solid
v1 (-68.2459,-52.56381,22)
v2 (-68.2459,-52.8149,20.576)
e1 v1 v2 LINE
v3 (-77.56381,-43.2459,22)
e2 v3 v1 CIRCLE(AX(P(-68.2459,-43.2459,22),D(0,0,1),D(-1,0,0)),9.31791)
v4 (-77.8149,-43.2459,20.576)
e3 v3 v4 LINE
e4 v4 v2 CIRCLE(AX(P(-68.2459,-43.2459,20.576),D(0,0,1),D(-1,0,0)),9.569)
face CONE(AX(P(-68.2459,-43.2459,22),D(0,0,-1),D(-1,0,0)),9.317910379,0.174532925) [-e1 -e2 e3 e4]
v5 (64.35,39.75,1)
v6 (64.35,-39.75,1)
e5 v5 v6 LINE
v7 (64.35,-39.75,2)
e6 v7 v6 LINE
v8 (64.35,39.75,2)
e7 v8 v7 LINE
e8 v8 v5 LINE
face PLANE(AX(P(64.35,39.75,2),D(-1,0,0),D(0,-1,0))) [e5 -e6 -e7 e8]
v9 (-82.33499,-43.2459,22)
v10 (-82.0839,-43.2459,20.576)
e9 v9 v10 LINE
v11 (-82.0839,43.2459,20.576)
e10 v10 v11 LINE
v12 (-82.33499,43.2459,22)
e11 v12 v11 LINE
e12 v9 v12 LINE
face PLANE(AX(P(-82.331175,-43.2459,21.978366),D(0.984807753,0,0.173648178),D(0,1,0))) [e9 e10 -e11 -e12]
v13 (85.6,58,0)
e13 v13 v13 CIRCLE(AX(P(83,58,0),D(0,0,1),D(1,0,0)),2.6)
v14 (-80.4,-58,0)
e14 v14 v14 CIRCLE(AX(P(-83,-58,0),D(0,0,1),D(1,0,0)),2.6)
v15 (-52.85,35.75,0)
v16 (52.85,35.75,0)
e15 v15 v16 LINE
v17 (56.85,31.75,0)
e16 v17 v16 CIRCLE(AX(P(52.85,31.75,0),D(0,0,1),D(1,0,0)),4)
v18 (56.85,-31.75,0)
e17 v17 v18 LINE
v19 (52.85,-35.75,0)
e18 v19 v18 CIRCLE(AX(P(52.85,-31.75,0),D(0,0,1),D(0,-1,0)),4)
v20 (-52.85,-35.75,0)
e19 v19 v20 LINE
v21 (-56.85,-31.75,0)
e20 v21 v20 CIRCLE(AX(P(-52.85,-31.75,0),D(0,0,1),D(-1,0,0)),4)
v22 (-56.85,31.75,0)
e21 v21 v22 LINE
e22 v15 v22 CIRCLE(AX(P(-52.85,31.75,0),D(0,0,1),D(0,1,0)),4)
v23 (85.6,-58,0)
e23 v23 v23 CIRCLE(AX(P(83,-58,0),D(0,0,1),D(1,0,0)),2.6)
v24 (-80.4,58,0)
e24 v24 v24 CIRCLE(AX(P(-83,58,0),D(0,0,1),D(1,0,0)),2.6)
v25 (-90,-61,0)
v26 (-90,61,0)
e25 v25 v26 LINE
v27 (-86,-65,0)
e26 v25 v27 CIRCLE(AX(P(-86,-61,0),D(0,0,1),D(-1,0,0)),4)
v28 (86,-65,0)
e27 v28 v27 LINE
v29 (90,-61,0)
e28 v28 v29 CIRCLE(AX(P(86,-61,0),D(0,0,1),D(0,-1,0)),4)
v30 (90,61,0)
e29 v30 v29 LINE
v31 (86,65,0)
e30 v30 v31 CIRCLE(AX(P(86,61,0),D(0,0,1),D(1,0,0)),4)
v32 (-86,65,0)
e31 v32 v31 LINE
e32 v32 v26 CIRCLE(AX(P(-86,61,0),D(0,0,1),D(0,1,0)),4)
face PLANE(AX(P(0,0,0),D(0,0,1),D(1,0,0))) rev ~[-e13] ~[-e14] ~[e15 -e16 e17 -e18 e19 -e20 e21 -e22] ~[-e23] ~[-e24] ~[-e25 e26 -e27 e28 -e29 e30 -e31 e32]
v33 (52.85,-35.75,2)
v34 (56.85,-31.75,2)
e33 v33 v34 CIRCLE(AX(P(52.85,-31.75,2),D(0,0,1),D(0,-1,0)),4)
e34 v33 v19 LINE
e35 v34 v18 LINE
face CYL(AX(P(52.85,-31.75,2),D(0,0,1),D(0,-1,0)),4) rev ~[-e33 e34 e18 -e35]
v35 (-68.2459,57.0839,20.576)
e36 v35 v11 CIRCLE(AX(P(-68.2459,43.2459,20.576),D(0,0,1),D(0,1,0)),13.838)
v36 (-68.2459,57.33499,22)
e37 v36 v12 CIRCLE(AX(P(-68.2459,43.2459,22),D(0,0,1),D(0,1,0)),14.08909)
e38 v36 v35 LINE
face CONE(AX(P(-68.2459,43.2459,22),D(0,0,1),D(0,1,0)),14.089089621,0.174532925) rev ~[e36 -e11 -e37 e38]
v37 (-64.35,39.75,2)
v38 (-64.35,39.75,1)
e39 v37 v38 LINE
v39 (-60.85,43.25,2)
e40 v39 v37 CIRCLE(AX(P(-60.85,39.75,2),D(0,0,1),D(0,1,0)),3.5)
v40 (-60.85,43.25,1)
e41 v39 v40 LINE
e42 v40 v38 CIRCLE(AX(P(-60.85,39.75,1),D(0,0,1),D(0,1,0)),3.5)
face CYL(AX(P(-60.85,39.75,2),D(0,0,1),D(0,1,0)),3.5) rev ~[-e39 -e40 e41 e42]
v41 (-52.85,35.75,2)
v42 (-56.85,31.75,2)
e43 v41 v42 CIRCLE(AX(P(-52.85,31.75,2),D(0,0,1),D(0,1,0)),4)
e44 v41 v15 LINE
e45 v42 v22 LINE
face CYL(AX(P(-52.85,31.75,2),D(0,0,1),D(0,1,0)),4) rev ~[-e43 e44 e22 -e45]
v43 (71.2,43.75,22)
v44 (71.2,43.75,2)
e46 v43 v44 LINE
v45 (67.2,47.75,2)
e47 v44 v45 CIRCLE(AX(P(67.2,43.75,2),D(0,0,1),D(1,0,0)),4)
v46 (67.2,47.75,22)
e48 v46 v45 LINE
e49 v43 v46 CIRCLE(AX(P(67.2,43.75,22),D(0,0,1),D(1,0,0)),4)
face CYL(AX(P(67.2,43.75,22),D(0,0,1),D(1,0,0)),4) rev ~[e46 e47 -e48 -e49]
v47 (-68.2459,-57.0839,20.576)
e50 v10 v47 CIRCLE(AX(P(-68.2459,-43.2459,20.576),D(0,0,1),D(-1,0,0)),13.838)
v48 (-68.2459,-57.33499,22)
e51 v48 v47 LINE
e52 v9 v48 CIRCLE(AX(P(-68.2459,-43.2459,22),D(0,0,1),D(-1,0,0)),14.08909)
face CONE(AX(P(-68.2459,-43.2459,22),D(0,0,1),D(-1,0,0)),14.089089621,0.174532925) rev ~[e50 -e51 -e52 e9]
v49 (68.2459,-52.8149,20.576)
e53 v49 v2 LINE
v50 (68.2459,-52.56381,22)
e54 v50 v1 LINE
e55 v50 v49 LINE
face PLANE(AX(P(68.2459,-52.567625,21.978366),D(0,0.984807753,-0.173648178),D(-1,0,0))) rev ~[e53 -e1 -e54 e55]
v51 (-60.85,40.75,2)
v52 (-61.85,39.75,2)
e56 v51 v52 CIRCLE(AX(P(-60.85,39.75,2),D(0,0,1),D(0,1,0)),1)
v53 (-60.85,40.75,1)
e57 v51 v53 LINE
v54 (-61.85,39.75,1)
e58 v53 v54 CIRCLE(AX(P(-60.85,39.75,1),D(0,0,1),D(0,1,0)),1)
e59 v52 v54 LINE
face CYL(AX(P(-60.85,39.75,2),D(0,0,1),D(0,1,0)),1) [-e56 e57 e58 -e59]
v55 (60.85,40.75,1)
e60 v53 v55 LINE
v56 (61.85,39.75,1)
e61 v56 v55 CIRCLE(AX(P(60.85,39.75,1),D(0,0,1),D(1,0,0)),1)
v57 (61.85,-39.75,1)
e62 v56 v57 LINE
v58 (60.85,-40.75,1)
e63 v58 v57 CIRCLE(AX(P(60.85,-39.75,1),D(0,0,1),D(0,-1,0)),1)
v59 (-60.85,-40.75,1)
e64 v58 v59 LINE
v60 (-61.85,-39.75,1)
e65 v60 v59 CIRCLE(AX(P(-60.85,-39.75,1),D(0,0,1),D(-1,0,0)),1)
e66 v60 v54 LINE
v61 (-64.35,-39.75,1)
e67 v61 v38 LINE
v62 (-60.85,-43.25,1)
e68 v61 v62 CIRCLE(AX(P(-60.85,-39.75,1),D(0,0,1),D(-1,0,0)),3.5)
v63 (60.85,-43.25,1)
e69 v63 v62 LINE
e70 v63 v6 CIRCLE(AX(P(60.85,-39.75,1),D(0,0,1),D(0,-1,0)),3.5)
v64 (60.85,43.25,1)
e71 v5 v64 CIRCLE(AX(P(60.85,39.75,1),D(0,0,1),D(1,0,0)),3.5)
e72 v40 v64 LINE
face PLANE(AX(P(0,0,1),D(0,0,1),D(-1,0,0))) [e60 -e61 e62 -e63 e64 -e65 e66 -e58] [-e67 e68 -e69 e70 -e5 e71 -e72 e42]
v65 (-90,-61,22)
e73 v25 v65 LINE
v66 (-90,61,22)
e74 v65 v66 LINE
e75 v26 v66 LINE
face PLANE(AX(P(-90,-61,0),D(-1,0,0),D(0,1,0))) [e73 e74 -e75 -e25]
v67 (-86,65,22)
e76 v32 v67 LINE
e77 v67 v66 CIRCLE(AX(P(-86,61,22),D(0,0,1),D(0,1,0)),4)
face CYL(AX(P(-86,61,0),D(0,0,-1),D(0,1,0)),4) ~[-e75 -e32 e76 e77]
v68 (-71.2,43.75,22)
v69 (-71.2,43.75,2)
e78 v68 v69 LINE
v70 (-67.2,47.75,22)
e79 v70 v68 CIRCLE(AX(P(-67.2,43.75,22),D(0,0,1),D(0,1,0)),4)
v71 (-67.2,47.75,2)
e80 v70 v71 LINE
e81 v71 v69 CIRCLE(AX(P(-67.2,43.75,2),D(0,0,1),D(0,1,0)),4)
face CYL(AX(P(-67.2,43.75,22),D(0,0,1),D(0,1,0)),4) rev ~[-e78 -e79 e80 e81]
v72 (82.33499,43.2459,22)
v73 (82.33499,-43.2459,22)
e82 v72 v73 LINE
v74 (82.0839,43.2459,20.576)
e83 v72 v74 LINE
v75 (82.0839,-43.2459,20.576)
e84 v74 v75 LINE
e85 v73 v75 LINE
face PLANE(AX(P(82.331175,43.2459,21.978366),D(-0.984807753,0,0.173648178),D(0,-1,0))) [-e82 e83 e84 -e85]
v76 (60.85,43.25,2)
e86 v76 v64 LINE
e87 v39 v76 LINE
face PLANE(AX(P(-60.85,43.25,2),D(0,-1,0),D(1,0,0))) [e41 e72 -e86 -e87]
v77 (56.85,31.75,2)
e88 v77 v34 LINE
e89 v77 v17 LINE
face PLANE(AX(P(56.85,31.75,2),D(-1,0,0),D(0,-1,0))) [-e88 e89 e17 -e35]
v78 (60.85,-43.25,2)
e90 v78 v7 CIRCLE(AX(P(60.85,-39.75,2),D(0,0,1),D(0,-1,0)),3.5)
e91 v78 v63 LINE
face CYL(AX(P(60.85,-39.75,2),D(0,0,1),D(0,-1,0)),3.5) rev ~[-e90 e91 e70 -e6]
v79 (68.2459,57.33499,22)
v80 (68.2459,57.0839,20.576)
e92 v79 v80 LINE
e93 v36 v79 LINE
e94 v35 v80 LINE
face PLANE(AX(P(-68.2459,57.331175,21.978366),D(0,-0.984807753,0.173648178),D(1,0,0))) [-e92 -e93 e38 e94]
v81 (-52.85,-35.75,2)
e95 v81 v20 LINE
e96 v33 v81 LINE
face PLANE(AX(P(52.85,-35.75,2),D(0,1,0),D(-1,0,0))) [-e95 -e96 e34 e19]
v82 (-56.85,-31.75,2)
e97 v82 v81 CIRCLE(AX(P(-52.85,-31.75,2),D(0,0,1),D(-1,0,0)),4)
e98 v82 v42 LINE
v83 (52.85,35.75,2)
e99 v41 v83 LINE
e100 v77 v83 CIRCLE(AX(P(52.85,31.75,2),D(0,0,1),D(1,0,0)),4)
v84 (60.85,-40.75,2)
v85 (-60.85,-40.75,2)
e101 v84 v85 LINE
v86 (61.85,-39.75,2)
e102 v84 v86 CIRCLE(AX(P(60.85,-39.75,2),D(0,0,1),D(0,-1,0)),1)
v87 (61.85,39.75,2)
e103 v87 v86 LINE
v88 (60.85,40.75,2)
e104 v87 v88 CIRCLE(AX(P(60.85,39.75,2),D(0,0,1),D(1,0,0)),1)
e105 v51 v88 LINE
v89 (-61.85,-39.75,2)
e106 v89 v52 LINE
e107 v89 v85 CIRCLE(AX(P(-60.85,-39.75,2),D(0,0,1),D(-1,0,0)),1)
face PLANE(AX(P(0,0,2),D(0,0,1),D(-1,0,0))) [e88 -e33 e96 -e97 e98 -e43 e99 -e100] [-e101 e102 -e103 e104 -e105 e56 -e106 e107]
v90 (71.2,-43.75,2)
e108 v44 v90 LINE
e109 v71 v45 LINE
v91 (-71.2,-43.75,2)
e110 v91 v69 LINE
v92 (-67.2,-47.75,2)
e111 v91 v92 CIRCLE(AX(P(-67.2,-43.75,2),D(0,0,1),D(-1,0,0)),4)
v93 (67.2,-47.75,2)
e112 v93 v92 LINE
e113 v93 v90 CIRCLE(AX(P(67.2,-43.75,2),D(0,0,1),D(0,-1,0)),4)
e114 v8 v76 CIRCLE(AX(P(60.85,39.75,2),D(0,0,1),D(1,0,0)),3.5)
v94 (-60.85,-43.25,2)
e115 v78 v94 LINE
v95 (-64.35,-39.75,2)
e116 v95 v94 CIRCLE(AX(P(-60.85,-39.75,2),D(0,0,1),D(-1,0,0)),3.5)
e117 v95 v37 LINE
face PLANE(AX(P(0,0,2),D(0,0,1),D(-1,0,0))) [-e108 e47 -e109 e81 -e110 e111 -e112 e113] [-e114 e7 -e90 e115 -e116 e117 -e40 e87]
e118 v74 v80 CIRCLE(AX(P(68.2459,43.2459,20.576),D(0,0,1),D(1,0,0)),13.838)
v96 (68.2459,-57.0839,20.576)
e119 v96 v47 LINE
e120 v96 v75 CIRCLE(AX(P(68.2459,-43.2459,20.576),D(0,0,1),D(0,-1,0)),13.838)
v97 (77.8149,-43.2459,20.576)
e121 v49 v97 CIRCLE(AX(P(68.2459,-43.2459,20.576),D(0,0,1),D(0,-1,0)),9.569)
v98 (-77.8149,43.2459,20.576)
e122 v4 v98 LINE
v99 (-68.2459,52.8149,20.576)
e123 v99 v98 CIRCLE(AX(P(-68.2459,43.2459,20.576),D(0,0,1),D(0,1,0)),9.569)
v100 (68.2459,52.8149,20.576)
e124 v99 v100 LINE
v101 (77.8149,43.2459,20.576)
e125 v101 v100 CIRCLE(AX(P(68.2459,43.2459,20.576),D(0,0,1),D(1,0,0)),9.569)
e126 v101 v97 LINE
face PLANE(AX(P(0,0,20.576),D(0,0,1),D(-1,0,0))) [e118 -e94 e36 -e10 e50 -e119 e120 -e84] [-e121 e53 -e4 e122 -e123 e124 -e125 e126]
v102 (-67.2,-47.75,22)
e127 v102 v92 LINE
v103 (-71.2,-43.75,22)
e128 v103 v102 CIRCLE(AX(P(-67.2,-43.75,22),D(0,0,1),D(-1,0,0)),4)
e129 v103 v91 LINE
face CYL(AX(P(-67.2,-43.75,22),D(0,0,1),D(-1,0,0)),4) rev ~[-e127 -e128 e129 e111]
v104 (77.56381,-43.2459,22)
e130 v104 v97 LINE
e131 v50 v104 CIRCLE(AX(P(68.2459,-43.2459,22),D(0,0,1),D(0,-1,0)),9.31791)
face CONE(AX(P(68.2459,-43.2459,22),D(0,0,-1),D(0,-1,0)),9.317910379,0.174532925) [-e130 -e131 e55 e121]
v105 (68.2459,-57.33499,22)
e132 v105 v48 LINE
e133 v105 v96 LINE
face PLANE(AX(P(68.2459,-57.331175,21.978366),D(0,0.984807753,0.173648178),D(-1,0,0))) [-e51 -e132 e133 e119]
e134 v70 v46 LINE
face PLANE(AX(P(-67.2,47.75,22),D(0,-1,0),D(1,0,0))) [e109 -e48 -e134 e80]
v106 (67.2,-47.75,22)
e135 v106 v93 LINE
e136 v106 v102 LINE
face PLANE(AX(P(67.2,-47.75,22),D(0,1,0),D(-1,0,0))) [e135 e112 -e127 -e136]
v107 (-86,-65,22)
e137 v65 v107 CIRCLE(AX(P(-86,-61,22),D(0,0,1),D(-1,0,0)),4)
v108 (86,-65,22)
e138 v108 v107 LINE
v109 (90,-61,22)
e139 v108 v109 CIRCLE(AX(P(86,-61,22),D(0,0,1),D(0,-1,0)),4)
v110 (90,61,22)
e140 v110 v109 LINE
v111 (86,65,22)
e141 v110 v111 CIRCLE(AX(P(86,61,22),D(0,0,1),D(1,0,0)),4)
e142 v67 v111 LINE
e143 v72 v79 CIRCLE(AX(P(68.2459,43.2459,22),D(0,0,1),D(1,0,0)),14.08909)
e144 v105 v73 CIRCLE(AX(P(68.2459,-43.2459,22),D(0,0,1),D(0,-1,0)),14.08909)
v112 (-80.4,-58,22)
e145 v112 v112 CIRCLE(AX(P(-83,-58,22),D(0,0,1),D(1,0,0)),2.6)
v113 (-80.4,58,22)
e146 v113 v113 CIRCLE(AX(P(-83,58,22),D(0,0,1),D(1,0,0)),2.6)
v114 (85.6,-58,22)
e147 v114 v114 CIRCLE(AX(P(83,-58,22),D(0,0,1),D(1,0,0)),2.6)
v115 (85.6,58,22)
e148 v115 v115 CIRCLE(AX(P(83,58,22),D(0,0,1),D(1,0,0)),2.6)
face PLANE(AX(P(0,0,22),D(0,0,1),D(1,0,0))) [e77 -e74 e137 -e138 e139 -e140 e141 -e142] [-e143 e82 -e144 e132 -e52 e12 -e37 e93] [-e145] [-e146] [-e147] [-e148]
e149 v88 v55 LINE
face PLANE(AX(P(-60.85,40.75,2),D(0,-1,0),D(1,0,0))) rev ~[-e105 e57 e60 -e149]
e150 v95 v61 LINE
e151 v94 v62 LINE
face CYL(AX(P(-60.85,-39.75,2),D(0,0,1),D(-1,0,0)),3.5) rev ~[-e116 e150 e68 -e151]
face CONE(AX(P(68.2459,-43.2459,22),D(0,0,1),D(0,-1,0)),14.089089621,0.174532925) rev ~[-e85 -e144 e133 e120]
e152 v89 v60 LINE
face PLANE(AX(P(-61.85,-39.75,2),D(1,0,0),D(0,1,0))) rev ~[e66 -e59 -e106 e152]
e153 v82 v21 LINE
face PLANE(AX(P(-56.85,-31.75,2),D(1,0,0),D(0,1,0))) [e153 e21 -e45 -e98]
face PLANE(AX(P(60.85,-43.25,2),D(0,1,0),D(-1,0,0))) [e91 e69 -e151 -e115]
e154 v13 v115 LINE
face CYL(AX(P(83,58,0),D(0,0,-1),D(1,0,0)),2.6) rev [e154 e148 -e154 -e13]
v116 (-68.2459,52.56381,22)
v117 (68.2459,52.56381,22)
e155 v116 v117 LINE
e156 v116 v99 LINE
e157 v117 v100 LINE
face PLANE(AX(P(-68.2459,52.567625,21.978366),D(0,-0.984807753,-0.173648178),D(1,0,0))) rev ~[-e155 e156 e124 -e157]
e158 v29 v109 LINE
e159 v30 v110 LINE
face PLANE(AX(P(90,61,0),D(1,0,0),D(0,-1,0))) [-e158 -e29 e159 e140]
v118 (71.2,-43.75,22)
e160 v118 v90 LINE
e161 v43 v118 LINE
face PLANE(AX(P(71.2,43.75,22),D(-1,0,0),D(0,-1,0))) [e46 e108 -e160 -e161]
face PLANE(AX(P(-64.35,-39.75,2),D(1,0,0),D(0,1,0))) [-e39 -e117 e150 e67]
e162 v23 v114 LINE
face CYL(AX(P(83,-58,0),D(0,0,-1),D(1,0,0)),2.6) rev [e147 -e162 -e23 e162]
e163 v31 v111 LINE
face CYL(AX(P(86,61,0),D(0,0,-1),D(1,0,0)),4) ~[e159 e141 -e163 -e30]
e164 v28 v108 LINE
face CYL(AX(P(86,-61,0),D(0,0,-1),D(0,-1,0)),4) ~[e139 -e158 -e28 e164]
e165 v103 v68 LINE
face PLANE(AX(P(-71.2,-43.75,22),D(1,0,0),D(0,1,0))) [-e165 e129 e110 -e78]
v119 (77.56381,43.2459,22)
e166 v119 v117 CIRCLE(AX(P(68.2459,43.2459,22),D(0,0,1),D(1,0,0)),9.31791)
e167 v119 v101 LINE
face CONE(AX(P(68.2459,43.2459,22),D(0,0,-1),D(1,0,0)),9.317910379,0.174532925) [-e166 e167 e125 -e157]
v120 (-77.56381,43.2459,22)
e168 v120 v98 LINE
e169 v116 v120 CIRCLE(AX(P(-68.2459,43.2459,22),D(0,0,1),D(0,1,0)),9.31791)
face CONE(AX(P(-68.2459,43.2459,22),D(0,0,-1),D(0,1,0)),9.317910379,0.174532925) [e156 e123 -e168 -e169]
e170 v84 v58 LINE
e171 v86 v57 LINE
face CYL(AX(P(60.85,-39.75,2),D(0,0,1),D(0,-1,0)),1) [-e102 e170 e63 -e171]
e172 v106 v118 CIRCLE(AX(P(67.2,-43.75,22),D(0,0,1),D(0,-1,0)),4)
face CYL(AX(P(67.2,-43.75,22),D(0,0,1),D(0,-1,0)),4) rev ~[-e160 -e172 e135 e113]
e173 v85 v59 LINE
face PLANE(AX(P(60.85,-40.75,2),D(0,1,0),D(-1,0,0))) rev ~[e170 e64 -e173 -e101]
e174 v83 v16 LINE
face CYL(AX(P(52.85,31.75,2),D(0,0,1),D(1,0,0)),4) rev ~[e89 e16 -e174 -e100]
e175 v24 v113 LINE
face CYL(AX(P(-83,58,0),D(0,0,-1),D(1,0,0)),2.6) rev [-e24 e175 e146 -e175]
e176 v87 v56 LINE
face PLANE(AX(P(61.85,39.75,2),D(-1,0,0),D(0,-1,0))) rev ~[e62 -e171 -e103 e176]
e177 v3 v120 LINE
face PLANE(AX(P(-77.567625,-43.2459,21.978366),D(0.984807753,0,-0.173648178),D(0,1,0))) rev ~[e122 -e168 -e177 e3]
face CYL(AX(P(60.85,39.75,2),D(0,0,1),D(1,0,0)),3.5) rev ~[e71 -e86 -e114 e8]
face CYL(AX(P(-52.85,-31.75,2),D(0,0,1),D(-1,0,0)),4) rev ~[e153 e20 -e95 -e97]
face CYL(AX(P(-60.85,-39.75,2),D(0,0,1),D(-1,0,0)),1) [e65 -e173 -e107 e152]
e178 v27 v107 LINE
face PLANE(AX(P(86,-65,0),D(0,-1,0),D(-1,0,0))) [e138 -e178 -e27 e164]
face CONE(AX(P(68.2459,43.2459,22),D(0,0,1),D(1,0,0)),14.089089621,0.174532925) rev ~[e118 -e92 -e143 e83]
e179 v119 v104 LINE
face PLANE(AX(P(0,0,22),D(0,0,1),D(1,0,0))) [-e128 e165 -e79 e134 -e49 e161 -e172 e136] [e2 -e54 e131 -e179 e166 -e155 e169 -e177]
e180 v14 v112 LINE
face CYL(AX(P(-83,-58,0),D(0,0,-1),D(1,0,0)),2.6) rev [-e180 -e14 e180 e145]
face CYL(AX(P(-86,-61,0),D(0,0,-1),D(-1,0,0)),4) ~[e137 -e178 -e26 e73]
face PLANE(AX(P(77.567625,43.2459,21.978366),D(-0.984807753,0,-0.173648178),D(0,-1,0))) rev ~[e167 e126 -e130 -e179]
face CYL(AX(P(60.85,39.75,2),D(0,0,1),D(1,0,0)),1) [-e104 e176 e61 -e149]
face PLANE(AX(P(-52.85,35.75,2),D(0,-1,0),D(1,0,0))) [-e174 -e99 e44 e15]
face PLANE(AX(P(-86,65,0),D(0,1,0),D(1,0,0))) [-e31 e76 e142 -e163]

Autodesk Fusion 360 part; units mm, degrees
sketch "Sketch1" plane through (0, 0, 0) normal (0, 0, 1) x (1, 0, 0)
  line L0 (86, -65) -> (-86, -65)
  line L1 (-90, -61) -> (-90, 61)
  line L2 (-86, 65) -> (86, 65)
  line L3 (90, 61) -> (90, -61)
  line L4 (90, -65) -> (-90, 65) construction
  line L5 (-90, -65) -> (90, 65) construction
  arc A0 (-86, 65) -> (-90, 61) centre (-86, 61) ccw
  arc A1 (90, 61) -> (86, 65) centre (86, 61) ccw
  arc A2 (86, -65) -> (90, -61) centre (86, -61) ccw
  arc A3 (-90, -61) -> (-86, -65) centre (-86, -61) ccw
  circle A4 centre (-83, 58) radius 2.6
  line L6 (0, 65) -> (0, -65) construction
  line L7 (90, 0) -> (-90, 0) construction
  circle A5 centre (83, 58) radius 2.6
  circle A6 centre (83, -58) radius 2.6
  circle A7 centre (-83, -58) radius 2.6
  dimension "d1" = 180
  dimension "d2" = 130
  dimension "d26" = 4
  dimension "d27" = 4
  dimension "d28" = 4
  dimension "d29" = 4
  dimension "d30" = 5.2
  dimension "d31" = 7
  dimension "d32" = 7
extrude "Extrude1" add sketch "Sketch1" along normal blind 22
sketch "Sketch2" plane through (0, 0, 22) normal (0, 0, 1) x (-1, 0, 0)
  line L0 (-86, -65) -> (86, -65)
  line L1 (90, -61) -> (90, 61)
  line L2 (86, 65) -> (-86, 65)
  line L3 (-90, 61) -> (-90, -61)
  line L4 (-67.2, 47.75) -> (67.2, 47.75)
  line L5 (71.2, 43.75) -> (71.2, -43.75)
  line L6 (67.2, -47.75) -> (-67.2, -47.75)
  line L7 (-71.2, -43.75) -> (-71.2, 43.75)
  line L8 (-71.2, 47.75) -> (71.2, -47.75) construction
  line L9 (71.2, 47.75) -> (-71.2, -47.75) construction
  arc A0 (86, -65) -> (90, -61) centre (86, -61) ccw
  arc A1 (90, 61) -> (86, 65) centre (86, 61) ccw
  arc A2 (-86, 65) -> (-90, 61) centre (-86, 61) ccw
  arc A3 (-90, -61) -> (-86, -65) centre (-86, -61) ccw
  circle A4 centre (83, 58) radius 2.6
  circle A5 centre (-83, 58) radius 2.6
  circle A6 centre (-83, -58) radius 2.6
  circle A7 centre (83, -58) radius 2.6
  arc A8 (67.2, -47.75) -> (71.2, -43.75) centre (67.2, -43.75) ccw
  arc A9 (-71.2, -43.75) -> (-67.2, -47.75) centre (-67.2, -43.75) ccw
  arc A10 (71.2, 43.75) -> (67.2, 47.75) centre (67.2, 43.75) ccw
  arc A11 (-67.2, 47.75) -> (-71.2, 43.75) centre (-67.2, 43.75) ccw
  dimension "d5" = 142.4
  dimension "d6" = 95.5
  dimension "d52" = 4
  dimension "d53" = 4
  dimension "d54" = 4
  dimension "d55" = 4
extrude "Extrude2" cut sketch "Sketch2" against normal blind 20 contours L4 L5 L6 L7 A8 A9 A10 A11
sketch "Sketch3" plane through (0, 0, 22) normal (0, 0, 1) x (-1, 0, 0)
  line L0 (71.2, 43.75) -> (71.2, -43.75)
  line L1 (67.2, -47.75) -> (-67.2, -47.75)
  line L2 (-71.2, -43.75) -> (-71.2, 43.75)
  line L3 (-67.2, 47.75) -> (67.2, 47.75)
  line L4 (-86, -65) -> (86, -65)
  line L5 (90, -61) -> (90, 61)
  line L6 (86, 65) -> (-86, 65)
  line L7 (-90, 61) -> (-90, -61)
  line L8 (-79.9494, 54.9494) -> (79.9494, 54.9494) construction
  line L9 (79.9494, 54.9494) -> (79.9494, -54.9494) construction
  line L10 (79.9494, -54.9494) -> (-79.9494, -54.9494) construction
  line L11 (-79.9494, -54.9494) -> (-79.9494, 54.9494) construction
  line L12 (-79.9494, 54.9494) -> (79.9494, -54.9494) construction
  line L13 (79.9494, 54.9494) -> (-79.9494, -54.9494) construction
  line L14 (77.8149, 43.2459) -> (77.8149, -43.2459)
  line L15 (68.2459, -52.8149) -> (-68.2459, -52.8149)
  line L16 (-77.8149, -43.2459) -> (-77.8149, 43.2459)
  line L17 (-69.6267, 47.2574) -> (77.8149, -52.8149) construction
  line L18 (70.6619, 45.6619) -> (-70.6619, -45.6619) construction
  line L19 (-68.2459, 57.0839) -> (68.2459, 57.0839)
  line L20 (82.0839, 43.2459) -> (82.0839, -43.2459)
  line L21 (68.2459, -57.0839) -> (-68.2459, -57.0839)
  line L22 (-82.0839, -43.2459) -> (-82.0839, 43.2459)
  line L23 (-72.3401, 50.3077) -> (82.0839, -57.0839) construction
  line L24 (73.5309, 48.5309) -> (-73.5309, -48.5309) construction
  arc A0 (68.2459, -52.8149) -> (77.8149, -43.2459) centre (68.2459, -43.2459) ccw
  arc A1 (68.2459, -57.0839) -> (82.0839, -43.2459) centre (68.2459, -43.2459) ccw
  line L25 (0, -65) -> (0, 65) construction
  line L26 (-90, 0) -> (90, 0) construction
  arc A2 (-77.8149, -43.2459) -> (-68.2459, -52.8149) centre (-68.2459, -43.2459) ccw
  arc A3 (-82.0839, -43.2459) -> (-68.2459, -57.0839) centre (-68.2459, -43.2459) ccw
  arc A4 (-68.2459, 52.8149) -> (-77.8149, 43.2459) centre (-68.2459, 43.2459) ccw
  arc A5 (-68.2459, 57.0839) -> (-82.0839, 43.2459) centre (-68.2459, 43.2459) ccw
  arc A6 (77.8149, 43.2459) -> (68.2459, 52.8149) centre (68.2459, 43.2459) ccw
  arc A7 (82.0839, 43.2459) -> (68.2459, 57.0839) centre (68.2459, 43.2459) ccw
  line L27 (-68.2459, 52.8149) -> (68.2459, 52.8149)
  arc A8 (86, -65) -> (90, -61) centre (86, -61) ccw
  arc A9 (90, 61) -> (86, 65) centre (86, 61) ccw
  arc A10 (-86, 65) -> (-90, 61) centre (-86, 61) ccw
  arc A11 (-90, -61) -> (-86, -65) centre (-86, -61) ccw
  circle A12 centre (83, 58) radius 2.6
  circle A13 centre (-83, 58) radius 2.6
  circle A14 centre (-83, -58) radius 2.6
  circle A15 centre (83, -58) radius 2.6
  arc A16 (71.2, 43.75) -> (67.2, 47.75) centre (67.2, 43.75) ccw
  arc A17 (67.2, -47.75) -> (71.2, -43.75) centre (67.2, -43.75) ccw
  arc A18 (-71.2, -43.75) -> (-67.2, -47.75) centre (-67.2, -43.75) ccw
  arc A19 (-67.2, 47.75) -> (-71.2, 43.75) centre (-67.2, 43.75) ccw
  dimension "d9" = 159.8988
  dimension "d15" = 109.8988
  dimension "d16" = 2.1345
  dimension "d17" = 2.1345
  dimension "d18" = 2.1345
  dimension "d19" = 2.1345
  dimension "d20" = 9.569
  dimension "d21" = 13.838
extrude "Extrude3" cut sketch "Sketch3" against normal blind 1.424 contours L19 L20 L21 L22 A1 A3 A5 A7
draft "Draft1" angle 10 neutral plane through (0, 0, 20.576) pull (0, 0, 1) 16 faces at (-77.8149, -14.4153, 21.5253) (-71.8024, 52.1295, 21.0507) (-22.7486, 52.8149, 21.5253) (72.6307, 51.7512, 21.0507) (77.8149, 14.4153, 21.5253) (73.0304, -51.5329, 21.0507) (22.7486, -52.8149, 21.5253) (-77.1295, -46.8024, 21.0507) (-82.0839, -14.4153, 21.5253) (-76.2727, -54.518, 21.0507) (-22.7486, -57.0839, 21.0507) (82.0213, -44.5613, 21.0507) (82.0839, 14.4153, 21.5253) (77.7952, 53.2609, 21.0507) (22.7486, 57.0839, 21.0507) (-76.8, 54.1233, 21.0507)
sketch "Sketch6" plane through (0, 0, 2) normal (0, 0, 1) x (-1, 0, 0)
  arc A0 (71.2, 43.75) -> (67.2, 47.75) centre (67.2, 43.75) ccw
  line L0 (67.2, 47.75) -> (-67.2, 47.75)
  arc A1 (-67.2, 47.75) -> (-71.2, 43.75) centre (-67.2, 43.75) ccw
  line L1 (-71.2, 43.75) -> (-71.2, -43.75)
  arc A2 (-71.2, -43.75) -> (-67.2, -47.75) centre (-67.2, -43.75) ccw
  line L2 (-67.2, -47.75) -> (67.2, -47.75)
  arc A3 (67.2, -47.75) -> (71.2, -43.75) centre (67.2, -43.75) ccw
  line L3 (71.2, -43.75) -> (71.2, 43.75)
  arc A4 (60.9079, -41.3399) -> (62.4799, -39.7679) centre (60.9079, -39.7679) ccw construction
  arc A5 (-62.4799, -39.7399) -> (-60.9079, -41.3119) centre (-60.9079, -39.7399) ccw construction
  line L4 (-48.9575, -41.8399) -> (48.9575, -41.8399) construction
  line L5 (48.9575, 41.8399) -> (-48.9575, 41.8399) construction
  line L6 (-62.9799, 29.7119) -> (-62.9799, 27.8175) construction
  line L7 (48.9575, -41.8399) -> (50.8519, -41.8399) construction
  line L8 (62.4799, 30.3078) -> (62.4799, 39.7679) construction
  arc A6 (-60.88, 42.74) -> (-63.88, 39.74) centre (-60.88, 39.74) ccw construction
  line L9 (63.88, 39.74) -> (63.88, -39.74) construction
  arc A7 (63.88, 39.74) -> (60.88, 42.74) centre (60.88, 39.74) ccw construction
  line L10 (-62.9799, -29.7119) -> (-62.4799, -30.3078) construction
  line L11 (51.4478, 41.3399) -> (50.8519, 41.8399) construction
  arc A8 (60.88, -42.74) -> (63.88, -39.74) centre (60.88, -39.74) ccw construction
  line L12 (-48.9575, 41.8399) -> (-50.8519, 41.8399) construction
  line L13 (-60.88, 42.74) -> (60.88, 42.74) construction
  line L14 (-62.9799, -27.8175) -> (-62.9799, -29.7119) construction
  line L15 (60.88, -42.74) -> (-60.88, -42.74) construction
  line L16 (62.9799, 29.7119) -> (62.4799, 30.3078) construction
  line L17 (-50.8519, 41.8399) -> (-51.4811, 41.3119) construction
  line L18 (62.4799, -39.7679) -> (62.4799, -30.3078) construction
  line L19 (-50.8519, -41.8399) -> (-48.9575, -41.8399) construction
  line L20 (60.9079, 41.3399) -> (51.4478, 41.3399) construction
  line L21 (50.8519, 41.8399) -> (48.9575, 41.8399) construction
  line L22 (62.9799, 27.8175) -> (62.9799, 29.7119) construction
  line L23 (51.4478, -41.3399) -> (60.9079, -41.3399) construction
  line L24 (62.9799, -27.8175) -> (62.9799, 27.8175) construction
  line L25 (-63.88, -39.74) -> (-63.88, 39.74) construction
  line L26 (50.8519, -41.8399) -> (51.4478, -41.3399) construction
  line L27 (62.9799, -29.7119) -> (62.9799, -27.8175) construction
  arc A9 (-63.88, -39.74) -> (-60.88, -42.74) centre (-60.88, -39.74) ccw construction
  arc A10 (62.4799, 39.7679) -> (60.9079, 41.3399) centre (60.9079, 39.7679) ccw construction
  line L28 (62.4799, -30.3078) -> (62.9799, -29.7119) construction
  line L29 (-62.4799, 30.3078) -> (-62.9799, 29.7119) construction
  line L30 (-60.9079, -41.3119) -> (-51.4811, -41.3119) construction
  arc A11 (-60.9079, 41.3119) -> (-62.4799, 39.7399) centre (-60.9079, 39.7399) ccw construction
  line L31 (-51.4811, -41.3119) -> (-50.8519, -41.8399) construction
  line L32 (-51.4811, 41.3119) -> (-60.9079, 41.3119) construction
  line L33 (-62.4799, 39.7399) -> (-62.4799, 30.3078) construction
  line L34 (-62.4799, -30.3078) -> (-62.4799, -39.7399) construction
  line L35 (-62.9799, 27.8175) -> (-62.9799, -27.8175) construction
  line L36 (0, -47.75) -> (0, 47.75) construction
  line L37 (-71.2, 0) -> (71.2, 0) construction
  line L38 (-60.85, 43.25) -> (60.85, 43.25)
  line L39 (64.35, 39.75) -> (64.35, -39.75)
  line L40 (60.85, -43.25) -> (-60.85, -43.25)
  line L41 (-64.35, -39.75) -> (-64.35, 39.75)
  line L42 (-64.35, 43.25) -> (64.35, -43.25) construction
  line L43 (64.35, 43.25) -> (-64.35, -43.25) construction
  arc A12 (60.85, -43.25) -> (64.35, -39.75) centre (60.85, -39.75) ccw
  arc A13 (-64.35, -39.75) -> (-60.85, -43.25) centre (-60.85, -39.75) ccw
  arc A14 (-60.85, 43.25) -> (-64.35, 39.75) centre (-60.85, 39.75) ccw
  arc A15 (64.35, 39.75) -> (60.85, 43.25) centre (60.85, 39.75) ccw
  line L44 (-60.85, 40.75) -> (60.85, 40.75)
  line L45 (61.85, 39.75) -> (61.85, -39.75)
  line L46 (60.85, -40.75) -> (-60.85, -40.75)
  line L47 (-61.85, -39.75) -> (-61.85, 39.75)
  line L48 (-61.85, 40.75) -> (61.85, -40.75) construction
  line L49 (61.85, 40.75) -> (-61.85, -40.75) construction
  arc A16 (-61.85, -39.75) -> (-60.85, -40.75) centre (-60.85, -39.75) ccw
  arc A17 (60.85, -40.75) -> (61.85, -39.75) centre (60.85, -39.75) ccw
  arc A18 (61.85, 39.75) -> (60.85, 40.75) centre (60.85, 39.75) ccw
  arc A19 (-60.85, 40.75) -> (-61.85, 39.75) centre (-60.85, 39.75) ccw
  dimension "d56" = 128.7
  dimension "d57" = 86.5
  dimension "d58" = 3.5
  dimension "d59" = 3.5
  dimension "d60" = 3.5
  dimension "d61" = 3.5
  dimension "d63" = 2.5
  dimension "d64" = 2.5
  dimension "d65" = 1
  dimension "d66" = 1
  dimension "d67" = 1
  dimension "d68" = 1
extrude "Extrude7" cut sketch "Sketch6" against normal blind 1 contours L38 L39 L40 L41 A12 A13 A14 A15
sketch "Sketch4" plane through (0, 0, 2) normal (0, 0, 1) x (-1, 0, 0)
  line L0 (-67.2, -47.75) -> (67.2, -47.75)
  line L1 (71.2, -43.75) -> (71.2, 43.75)
  line L2 (67.2, 47.75) -> (-67.2, 47.75)
  line L3 (-71.2, 43.75) -> (-71.2, -43.75)
  line L4 (-52.85, 35.75) -> (52.85, 35.75)
  line L5 (56.85, 31.75) -> (56.85, -31.75)
  line L6 (52.85, -35.75) -> (-52.85, -35.75)
  line L7 (-56.85, -31.75) -> (-56.85, 31.75)
  line L8 (-56.85, 35.75) -> (56.85, -35.75) construction
  line L9 (56.85, 35.75) -> (-56.85, -35.75) construction
  arc A0 (71.2, 43.75) -> (67.2, 47.75) centre (67.2, 43.75) ccw
  arc A1 (-67.2, 47.75) -> (-71.2, 43.75) centre (-67.2, 43.75) ccw
  arc A2 (-71.2, -43.75) -> (-67.2, -47.75) centre (-67.2, -43.75) ccw
  arc A3 (67.2, -47.75) -> (71.2, -43.75) centre (67.2, -43.75) ccw
  arc A4 (52.85, -35.75) -> (56.85, -31.75) centre (52.85, -31.75) ccw
  arc A5 (-56.85, -31.75) -> (-52.85, -35.75) centre (-52.85, -31.75) ccw
  arc A6 (-52.85, 35.75) -> (-56.85, 31.75) centre (-52.85, 31.75) ccw
  arc A7 (56.85, 31.75) -> (52.85, 35.75) centre (52.85, 31.75) ccw
  line L10 (64.35, 39.75) -> (64.35, -39.75)
  arc A8 (60.85, -43.25) -> (64.35, -39.75) centre (60.85, -39.75) ccw
  line L11 (60.85, -43.25) -> (-60.85, -43.25)
  arc A9 (-64.35, -39.75) -> (-60.85, -43.25) centre (-60.85, -39.75) ccw
  line L12 (-64.35, -39.75) -> (-64.35, 39.75)
  arc A10 (-60.85, 43.25) -> (-64.35, 39.75) centre (-60.85, 39.75) ccw
  line L13 (-60.85, 43.25) -> (60.85, 43.25)
  arc A11 (64.35, 39.75) -> (60.85, 43.25) centre (60.85, 39.75) ccw
  line L14 (61.85, -39.75) -> (61.85, 39.75)
  arc A12 (61.85, 39.75) -> (60.85, 40.75) centre (60.85, 39.75) ccw
  line L15 (60.85, 40.75) -> (-60.85, 40.75)
  arc A13 (-60.85, 40.75) -> (-61.85, 39.75) centre (-60.85, 39.75) ccw
  line L16 (-61.85, 39.75) -> (-61.85, -39.75)
  arc A14 (-61.85, -39.75) -> (-60.85, -40.75) centre (-60.85, -39.75) ccw
  line L17 (-60.85, -40.75) -> (60.85, -40.75)
  arc A15 (60.85, -40.75) -> (61.85, -39.75) centre (60.85, -39.75) ccw
  dimension "d71" = 4
  dimension "d72" = 4
  dimension "d73" = 4
  dimension "d74" = 4
  dimension "d77" = 5
  dimension "d78" = 5
extrude "Extrude8" cut sketch "Sketch4" against normal blind 5 contours L4 L5 L6 L7 A4 A5 A6 A7
equation "d9 = ( ORingPerimeter - 100 mm ) / 4 + 50 mm"
equation "ORingDiameter = 1.78 mm" comment "Diamter of the O ring"
equation "ORingInnerDiameter = 170 mm" comment "Inner diamter of the o ring bore"
equation "ORingPerimeter = 2 * 3.1412 * ( ( ORingInnerDiameter / 2 ) + ORingDiameter / 2 )"
equation "PanelWidth = 80 mm"
equation "PanelLength = 115 mm"
equation "d15 = ( ORingPerimeter - 100 mm ) / 4"
equation "d16 = ( ( ORingDiameter * 1.05 ) / 2 ) + 1.2 mm"
equation "d17 = ( ( ORingDiameter * 1.05 ) / 2 ) + 1.2 mm"
equation "d18 = ( ( ORingDiameter * 1.05 ) / 2 ) + 1.2 mm"
equation "d19 = ( ( ORingDiameter * 1.05 ) / 2 ) + 1.2 mm"
equation "d20 = ( ORingDiameter ) * 6 + ORingDiameter * 0.05 - 1.2 mm"
equation "d21 = ( ORingDiameter ) * 6 + ( ORingDiameter * 1.1 ) + 1.2 mm"
equation "d22 = -ORingDiameter * 0.8"
equation "d30 = Insert_OD - 0.5 mm"
equation "ORing2Diameter = 2 mm" comment "Second O ring Diameter"
equation "ORing2InnerDiameter = 126 mm" comment "Inner diameter of the second O Ring"
equation "ORing2Perimeter = 2 * 3.1412 * ( ( ORing2InnerDiameter / 2 ) + ORing2Diameter / 2 )"
equation "Bolt_Diam = 4 mm" comment "Diameter of the bolt"
equation "Bolt_Head_Height = 4 mm" comment "height of the bolt head"
equation "Bolt_Head_Diam = 7.22 mm" comment "Diameter of the bolt head"
equation "Insert_OD = 5.7 mm" comment "Outer Diameter of the insert"
